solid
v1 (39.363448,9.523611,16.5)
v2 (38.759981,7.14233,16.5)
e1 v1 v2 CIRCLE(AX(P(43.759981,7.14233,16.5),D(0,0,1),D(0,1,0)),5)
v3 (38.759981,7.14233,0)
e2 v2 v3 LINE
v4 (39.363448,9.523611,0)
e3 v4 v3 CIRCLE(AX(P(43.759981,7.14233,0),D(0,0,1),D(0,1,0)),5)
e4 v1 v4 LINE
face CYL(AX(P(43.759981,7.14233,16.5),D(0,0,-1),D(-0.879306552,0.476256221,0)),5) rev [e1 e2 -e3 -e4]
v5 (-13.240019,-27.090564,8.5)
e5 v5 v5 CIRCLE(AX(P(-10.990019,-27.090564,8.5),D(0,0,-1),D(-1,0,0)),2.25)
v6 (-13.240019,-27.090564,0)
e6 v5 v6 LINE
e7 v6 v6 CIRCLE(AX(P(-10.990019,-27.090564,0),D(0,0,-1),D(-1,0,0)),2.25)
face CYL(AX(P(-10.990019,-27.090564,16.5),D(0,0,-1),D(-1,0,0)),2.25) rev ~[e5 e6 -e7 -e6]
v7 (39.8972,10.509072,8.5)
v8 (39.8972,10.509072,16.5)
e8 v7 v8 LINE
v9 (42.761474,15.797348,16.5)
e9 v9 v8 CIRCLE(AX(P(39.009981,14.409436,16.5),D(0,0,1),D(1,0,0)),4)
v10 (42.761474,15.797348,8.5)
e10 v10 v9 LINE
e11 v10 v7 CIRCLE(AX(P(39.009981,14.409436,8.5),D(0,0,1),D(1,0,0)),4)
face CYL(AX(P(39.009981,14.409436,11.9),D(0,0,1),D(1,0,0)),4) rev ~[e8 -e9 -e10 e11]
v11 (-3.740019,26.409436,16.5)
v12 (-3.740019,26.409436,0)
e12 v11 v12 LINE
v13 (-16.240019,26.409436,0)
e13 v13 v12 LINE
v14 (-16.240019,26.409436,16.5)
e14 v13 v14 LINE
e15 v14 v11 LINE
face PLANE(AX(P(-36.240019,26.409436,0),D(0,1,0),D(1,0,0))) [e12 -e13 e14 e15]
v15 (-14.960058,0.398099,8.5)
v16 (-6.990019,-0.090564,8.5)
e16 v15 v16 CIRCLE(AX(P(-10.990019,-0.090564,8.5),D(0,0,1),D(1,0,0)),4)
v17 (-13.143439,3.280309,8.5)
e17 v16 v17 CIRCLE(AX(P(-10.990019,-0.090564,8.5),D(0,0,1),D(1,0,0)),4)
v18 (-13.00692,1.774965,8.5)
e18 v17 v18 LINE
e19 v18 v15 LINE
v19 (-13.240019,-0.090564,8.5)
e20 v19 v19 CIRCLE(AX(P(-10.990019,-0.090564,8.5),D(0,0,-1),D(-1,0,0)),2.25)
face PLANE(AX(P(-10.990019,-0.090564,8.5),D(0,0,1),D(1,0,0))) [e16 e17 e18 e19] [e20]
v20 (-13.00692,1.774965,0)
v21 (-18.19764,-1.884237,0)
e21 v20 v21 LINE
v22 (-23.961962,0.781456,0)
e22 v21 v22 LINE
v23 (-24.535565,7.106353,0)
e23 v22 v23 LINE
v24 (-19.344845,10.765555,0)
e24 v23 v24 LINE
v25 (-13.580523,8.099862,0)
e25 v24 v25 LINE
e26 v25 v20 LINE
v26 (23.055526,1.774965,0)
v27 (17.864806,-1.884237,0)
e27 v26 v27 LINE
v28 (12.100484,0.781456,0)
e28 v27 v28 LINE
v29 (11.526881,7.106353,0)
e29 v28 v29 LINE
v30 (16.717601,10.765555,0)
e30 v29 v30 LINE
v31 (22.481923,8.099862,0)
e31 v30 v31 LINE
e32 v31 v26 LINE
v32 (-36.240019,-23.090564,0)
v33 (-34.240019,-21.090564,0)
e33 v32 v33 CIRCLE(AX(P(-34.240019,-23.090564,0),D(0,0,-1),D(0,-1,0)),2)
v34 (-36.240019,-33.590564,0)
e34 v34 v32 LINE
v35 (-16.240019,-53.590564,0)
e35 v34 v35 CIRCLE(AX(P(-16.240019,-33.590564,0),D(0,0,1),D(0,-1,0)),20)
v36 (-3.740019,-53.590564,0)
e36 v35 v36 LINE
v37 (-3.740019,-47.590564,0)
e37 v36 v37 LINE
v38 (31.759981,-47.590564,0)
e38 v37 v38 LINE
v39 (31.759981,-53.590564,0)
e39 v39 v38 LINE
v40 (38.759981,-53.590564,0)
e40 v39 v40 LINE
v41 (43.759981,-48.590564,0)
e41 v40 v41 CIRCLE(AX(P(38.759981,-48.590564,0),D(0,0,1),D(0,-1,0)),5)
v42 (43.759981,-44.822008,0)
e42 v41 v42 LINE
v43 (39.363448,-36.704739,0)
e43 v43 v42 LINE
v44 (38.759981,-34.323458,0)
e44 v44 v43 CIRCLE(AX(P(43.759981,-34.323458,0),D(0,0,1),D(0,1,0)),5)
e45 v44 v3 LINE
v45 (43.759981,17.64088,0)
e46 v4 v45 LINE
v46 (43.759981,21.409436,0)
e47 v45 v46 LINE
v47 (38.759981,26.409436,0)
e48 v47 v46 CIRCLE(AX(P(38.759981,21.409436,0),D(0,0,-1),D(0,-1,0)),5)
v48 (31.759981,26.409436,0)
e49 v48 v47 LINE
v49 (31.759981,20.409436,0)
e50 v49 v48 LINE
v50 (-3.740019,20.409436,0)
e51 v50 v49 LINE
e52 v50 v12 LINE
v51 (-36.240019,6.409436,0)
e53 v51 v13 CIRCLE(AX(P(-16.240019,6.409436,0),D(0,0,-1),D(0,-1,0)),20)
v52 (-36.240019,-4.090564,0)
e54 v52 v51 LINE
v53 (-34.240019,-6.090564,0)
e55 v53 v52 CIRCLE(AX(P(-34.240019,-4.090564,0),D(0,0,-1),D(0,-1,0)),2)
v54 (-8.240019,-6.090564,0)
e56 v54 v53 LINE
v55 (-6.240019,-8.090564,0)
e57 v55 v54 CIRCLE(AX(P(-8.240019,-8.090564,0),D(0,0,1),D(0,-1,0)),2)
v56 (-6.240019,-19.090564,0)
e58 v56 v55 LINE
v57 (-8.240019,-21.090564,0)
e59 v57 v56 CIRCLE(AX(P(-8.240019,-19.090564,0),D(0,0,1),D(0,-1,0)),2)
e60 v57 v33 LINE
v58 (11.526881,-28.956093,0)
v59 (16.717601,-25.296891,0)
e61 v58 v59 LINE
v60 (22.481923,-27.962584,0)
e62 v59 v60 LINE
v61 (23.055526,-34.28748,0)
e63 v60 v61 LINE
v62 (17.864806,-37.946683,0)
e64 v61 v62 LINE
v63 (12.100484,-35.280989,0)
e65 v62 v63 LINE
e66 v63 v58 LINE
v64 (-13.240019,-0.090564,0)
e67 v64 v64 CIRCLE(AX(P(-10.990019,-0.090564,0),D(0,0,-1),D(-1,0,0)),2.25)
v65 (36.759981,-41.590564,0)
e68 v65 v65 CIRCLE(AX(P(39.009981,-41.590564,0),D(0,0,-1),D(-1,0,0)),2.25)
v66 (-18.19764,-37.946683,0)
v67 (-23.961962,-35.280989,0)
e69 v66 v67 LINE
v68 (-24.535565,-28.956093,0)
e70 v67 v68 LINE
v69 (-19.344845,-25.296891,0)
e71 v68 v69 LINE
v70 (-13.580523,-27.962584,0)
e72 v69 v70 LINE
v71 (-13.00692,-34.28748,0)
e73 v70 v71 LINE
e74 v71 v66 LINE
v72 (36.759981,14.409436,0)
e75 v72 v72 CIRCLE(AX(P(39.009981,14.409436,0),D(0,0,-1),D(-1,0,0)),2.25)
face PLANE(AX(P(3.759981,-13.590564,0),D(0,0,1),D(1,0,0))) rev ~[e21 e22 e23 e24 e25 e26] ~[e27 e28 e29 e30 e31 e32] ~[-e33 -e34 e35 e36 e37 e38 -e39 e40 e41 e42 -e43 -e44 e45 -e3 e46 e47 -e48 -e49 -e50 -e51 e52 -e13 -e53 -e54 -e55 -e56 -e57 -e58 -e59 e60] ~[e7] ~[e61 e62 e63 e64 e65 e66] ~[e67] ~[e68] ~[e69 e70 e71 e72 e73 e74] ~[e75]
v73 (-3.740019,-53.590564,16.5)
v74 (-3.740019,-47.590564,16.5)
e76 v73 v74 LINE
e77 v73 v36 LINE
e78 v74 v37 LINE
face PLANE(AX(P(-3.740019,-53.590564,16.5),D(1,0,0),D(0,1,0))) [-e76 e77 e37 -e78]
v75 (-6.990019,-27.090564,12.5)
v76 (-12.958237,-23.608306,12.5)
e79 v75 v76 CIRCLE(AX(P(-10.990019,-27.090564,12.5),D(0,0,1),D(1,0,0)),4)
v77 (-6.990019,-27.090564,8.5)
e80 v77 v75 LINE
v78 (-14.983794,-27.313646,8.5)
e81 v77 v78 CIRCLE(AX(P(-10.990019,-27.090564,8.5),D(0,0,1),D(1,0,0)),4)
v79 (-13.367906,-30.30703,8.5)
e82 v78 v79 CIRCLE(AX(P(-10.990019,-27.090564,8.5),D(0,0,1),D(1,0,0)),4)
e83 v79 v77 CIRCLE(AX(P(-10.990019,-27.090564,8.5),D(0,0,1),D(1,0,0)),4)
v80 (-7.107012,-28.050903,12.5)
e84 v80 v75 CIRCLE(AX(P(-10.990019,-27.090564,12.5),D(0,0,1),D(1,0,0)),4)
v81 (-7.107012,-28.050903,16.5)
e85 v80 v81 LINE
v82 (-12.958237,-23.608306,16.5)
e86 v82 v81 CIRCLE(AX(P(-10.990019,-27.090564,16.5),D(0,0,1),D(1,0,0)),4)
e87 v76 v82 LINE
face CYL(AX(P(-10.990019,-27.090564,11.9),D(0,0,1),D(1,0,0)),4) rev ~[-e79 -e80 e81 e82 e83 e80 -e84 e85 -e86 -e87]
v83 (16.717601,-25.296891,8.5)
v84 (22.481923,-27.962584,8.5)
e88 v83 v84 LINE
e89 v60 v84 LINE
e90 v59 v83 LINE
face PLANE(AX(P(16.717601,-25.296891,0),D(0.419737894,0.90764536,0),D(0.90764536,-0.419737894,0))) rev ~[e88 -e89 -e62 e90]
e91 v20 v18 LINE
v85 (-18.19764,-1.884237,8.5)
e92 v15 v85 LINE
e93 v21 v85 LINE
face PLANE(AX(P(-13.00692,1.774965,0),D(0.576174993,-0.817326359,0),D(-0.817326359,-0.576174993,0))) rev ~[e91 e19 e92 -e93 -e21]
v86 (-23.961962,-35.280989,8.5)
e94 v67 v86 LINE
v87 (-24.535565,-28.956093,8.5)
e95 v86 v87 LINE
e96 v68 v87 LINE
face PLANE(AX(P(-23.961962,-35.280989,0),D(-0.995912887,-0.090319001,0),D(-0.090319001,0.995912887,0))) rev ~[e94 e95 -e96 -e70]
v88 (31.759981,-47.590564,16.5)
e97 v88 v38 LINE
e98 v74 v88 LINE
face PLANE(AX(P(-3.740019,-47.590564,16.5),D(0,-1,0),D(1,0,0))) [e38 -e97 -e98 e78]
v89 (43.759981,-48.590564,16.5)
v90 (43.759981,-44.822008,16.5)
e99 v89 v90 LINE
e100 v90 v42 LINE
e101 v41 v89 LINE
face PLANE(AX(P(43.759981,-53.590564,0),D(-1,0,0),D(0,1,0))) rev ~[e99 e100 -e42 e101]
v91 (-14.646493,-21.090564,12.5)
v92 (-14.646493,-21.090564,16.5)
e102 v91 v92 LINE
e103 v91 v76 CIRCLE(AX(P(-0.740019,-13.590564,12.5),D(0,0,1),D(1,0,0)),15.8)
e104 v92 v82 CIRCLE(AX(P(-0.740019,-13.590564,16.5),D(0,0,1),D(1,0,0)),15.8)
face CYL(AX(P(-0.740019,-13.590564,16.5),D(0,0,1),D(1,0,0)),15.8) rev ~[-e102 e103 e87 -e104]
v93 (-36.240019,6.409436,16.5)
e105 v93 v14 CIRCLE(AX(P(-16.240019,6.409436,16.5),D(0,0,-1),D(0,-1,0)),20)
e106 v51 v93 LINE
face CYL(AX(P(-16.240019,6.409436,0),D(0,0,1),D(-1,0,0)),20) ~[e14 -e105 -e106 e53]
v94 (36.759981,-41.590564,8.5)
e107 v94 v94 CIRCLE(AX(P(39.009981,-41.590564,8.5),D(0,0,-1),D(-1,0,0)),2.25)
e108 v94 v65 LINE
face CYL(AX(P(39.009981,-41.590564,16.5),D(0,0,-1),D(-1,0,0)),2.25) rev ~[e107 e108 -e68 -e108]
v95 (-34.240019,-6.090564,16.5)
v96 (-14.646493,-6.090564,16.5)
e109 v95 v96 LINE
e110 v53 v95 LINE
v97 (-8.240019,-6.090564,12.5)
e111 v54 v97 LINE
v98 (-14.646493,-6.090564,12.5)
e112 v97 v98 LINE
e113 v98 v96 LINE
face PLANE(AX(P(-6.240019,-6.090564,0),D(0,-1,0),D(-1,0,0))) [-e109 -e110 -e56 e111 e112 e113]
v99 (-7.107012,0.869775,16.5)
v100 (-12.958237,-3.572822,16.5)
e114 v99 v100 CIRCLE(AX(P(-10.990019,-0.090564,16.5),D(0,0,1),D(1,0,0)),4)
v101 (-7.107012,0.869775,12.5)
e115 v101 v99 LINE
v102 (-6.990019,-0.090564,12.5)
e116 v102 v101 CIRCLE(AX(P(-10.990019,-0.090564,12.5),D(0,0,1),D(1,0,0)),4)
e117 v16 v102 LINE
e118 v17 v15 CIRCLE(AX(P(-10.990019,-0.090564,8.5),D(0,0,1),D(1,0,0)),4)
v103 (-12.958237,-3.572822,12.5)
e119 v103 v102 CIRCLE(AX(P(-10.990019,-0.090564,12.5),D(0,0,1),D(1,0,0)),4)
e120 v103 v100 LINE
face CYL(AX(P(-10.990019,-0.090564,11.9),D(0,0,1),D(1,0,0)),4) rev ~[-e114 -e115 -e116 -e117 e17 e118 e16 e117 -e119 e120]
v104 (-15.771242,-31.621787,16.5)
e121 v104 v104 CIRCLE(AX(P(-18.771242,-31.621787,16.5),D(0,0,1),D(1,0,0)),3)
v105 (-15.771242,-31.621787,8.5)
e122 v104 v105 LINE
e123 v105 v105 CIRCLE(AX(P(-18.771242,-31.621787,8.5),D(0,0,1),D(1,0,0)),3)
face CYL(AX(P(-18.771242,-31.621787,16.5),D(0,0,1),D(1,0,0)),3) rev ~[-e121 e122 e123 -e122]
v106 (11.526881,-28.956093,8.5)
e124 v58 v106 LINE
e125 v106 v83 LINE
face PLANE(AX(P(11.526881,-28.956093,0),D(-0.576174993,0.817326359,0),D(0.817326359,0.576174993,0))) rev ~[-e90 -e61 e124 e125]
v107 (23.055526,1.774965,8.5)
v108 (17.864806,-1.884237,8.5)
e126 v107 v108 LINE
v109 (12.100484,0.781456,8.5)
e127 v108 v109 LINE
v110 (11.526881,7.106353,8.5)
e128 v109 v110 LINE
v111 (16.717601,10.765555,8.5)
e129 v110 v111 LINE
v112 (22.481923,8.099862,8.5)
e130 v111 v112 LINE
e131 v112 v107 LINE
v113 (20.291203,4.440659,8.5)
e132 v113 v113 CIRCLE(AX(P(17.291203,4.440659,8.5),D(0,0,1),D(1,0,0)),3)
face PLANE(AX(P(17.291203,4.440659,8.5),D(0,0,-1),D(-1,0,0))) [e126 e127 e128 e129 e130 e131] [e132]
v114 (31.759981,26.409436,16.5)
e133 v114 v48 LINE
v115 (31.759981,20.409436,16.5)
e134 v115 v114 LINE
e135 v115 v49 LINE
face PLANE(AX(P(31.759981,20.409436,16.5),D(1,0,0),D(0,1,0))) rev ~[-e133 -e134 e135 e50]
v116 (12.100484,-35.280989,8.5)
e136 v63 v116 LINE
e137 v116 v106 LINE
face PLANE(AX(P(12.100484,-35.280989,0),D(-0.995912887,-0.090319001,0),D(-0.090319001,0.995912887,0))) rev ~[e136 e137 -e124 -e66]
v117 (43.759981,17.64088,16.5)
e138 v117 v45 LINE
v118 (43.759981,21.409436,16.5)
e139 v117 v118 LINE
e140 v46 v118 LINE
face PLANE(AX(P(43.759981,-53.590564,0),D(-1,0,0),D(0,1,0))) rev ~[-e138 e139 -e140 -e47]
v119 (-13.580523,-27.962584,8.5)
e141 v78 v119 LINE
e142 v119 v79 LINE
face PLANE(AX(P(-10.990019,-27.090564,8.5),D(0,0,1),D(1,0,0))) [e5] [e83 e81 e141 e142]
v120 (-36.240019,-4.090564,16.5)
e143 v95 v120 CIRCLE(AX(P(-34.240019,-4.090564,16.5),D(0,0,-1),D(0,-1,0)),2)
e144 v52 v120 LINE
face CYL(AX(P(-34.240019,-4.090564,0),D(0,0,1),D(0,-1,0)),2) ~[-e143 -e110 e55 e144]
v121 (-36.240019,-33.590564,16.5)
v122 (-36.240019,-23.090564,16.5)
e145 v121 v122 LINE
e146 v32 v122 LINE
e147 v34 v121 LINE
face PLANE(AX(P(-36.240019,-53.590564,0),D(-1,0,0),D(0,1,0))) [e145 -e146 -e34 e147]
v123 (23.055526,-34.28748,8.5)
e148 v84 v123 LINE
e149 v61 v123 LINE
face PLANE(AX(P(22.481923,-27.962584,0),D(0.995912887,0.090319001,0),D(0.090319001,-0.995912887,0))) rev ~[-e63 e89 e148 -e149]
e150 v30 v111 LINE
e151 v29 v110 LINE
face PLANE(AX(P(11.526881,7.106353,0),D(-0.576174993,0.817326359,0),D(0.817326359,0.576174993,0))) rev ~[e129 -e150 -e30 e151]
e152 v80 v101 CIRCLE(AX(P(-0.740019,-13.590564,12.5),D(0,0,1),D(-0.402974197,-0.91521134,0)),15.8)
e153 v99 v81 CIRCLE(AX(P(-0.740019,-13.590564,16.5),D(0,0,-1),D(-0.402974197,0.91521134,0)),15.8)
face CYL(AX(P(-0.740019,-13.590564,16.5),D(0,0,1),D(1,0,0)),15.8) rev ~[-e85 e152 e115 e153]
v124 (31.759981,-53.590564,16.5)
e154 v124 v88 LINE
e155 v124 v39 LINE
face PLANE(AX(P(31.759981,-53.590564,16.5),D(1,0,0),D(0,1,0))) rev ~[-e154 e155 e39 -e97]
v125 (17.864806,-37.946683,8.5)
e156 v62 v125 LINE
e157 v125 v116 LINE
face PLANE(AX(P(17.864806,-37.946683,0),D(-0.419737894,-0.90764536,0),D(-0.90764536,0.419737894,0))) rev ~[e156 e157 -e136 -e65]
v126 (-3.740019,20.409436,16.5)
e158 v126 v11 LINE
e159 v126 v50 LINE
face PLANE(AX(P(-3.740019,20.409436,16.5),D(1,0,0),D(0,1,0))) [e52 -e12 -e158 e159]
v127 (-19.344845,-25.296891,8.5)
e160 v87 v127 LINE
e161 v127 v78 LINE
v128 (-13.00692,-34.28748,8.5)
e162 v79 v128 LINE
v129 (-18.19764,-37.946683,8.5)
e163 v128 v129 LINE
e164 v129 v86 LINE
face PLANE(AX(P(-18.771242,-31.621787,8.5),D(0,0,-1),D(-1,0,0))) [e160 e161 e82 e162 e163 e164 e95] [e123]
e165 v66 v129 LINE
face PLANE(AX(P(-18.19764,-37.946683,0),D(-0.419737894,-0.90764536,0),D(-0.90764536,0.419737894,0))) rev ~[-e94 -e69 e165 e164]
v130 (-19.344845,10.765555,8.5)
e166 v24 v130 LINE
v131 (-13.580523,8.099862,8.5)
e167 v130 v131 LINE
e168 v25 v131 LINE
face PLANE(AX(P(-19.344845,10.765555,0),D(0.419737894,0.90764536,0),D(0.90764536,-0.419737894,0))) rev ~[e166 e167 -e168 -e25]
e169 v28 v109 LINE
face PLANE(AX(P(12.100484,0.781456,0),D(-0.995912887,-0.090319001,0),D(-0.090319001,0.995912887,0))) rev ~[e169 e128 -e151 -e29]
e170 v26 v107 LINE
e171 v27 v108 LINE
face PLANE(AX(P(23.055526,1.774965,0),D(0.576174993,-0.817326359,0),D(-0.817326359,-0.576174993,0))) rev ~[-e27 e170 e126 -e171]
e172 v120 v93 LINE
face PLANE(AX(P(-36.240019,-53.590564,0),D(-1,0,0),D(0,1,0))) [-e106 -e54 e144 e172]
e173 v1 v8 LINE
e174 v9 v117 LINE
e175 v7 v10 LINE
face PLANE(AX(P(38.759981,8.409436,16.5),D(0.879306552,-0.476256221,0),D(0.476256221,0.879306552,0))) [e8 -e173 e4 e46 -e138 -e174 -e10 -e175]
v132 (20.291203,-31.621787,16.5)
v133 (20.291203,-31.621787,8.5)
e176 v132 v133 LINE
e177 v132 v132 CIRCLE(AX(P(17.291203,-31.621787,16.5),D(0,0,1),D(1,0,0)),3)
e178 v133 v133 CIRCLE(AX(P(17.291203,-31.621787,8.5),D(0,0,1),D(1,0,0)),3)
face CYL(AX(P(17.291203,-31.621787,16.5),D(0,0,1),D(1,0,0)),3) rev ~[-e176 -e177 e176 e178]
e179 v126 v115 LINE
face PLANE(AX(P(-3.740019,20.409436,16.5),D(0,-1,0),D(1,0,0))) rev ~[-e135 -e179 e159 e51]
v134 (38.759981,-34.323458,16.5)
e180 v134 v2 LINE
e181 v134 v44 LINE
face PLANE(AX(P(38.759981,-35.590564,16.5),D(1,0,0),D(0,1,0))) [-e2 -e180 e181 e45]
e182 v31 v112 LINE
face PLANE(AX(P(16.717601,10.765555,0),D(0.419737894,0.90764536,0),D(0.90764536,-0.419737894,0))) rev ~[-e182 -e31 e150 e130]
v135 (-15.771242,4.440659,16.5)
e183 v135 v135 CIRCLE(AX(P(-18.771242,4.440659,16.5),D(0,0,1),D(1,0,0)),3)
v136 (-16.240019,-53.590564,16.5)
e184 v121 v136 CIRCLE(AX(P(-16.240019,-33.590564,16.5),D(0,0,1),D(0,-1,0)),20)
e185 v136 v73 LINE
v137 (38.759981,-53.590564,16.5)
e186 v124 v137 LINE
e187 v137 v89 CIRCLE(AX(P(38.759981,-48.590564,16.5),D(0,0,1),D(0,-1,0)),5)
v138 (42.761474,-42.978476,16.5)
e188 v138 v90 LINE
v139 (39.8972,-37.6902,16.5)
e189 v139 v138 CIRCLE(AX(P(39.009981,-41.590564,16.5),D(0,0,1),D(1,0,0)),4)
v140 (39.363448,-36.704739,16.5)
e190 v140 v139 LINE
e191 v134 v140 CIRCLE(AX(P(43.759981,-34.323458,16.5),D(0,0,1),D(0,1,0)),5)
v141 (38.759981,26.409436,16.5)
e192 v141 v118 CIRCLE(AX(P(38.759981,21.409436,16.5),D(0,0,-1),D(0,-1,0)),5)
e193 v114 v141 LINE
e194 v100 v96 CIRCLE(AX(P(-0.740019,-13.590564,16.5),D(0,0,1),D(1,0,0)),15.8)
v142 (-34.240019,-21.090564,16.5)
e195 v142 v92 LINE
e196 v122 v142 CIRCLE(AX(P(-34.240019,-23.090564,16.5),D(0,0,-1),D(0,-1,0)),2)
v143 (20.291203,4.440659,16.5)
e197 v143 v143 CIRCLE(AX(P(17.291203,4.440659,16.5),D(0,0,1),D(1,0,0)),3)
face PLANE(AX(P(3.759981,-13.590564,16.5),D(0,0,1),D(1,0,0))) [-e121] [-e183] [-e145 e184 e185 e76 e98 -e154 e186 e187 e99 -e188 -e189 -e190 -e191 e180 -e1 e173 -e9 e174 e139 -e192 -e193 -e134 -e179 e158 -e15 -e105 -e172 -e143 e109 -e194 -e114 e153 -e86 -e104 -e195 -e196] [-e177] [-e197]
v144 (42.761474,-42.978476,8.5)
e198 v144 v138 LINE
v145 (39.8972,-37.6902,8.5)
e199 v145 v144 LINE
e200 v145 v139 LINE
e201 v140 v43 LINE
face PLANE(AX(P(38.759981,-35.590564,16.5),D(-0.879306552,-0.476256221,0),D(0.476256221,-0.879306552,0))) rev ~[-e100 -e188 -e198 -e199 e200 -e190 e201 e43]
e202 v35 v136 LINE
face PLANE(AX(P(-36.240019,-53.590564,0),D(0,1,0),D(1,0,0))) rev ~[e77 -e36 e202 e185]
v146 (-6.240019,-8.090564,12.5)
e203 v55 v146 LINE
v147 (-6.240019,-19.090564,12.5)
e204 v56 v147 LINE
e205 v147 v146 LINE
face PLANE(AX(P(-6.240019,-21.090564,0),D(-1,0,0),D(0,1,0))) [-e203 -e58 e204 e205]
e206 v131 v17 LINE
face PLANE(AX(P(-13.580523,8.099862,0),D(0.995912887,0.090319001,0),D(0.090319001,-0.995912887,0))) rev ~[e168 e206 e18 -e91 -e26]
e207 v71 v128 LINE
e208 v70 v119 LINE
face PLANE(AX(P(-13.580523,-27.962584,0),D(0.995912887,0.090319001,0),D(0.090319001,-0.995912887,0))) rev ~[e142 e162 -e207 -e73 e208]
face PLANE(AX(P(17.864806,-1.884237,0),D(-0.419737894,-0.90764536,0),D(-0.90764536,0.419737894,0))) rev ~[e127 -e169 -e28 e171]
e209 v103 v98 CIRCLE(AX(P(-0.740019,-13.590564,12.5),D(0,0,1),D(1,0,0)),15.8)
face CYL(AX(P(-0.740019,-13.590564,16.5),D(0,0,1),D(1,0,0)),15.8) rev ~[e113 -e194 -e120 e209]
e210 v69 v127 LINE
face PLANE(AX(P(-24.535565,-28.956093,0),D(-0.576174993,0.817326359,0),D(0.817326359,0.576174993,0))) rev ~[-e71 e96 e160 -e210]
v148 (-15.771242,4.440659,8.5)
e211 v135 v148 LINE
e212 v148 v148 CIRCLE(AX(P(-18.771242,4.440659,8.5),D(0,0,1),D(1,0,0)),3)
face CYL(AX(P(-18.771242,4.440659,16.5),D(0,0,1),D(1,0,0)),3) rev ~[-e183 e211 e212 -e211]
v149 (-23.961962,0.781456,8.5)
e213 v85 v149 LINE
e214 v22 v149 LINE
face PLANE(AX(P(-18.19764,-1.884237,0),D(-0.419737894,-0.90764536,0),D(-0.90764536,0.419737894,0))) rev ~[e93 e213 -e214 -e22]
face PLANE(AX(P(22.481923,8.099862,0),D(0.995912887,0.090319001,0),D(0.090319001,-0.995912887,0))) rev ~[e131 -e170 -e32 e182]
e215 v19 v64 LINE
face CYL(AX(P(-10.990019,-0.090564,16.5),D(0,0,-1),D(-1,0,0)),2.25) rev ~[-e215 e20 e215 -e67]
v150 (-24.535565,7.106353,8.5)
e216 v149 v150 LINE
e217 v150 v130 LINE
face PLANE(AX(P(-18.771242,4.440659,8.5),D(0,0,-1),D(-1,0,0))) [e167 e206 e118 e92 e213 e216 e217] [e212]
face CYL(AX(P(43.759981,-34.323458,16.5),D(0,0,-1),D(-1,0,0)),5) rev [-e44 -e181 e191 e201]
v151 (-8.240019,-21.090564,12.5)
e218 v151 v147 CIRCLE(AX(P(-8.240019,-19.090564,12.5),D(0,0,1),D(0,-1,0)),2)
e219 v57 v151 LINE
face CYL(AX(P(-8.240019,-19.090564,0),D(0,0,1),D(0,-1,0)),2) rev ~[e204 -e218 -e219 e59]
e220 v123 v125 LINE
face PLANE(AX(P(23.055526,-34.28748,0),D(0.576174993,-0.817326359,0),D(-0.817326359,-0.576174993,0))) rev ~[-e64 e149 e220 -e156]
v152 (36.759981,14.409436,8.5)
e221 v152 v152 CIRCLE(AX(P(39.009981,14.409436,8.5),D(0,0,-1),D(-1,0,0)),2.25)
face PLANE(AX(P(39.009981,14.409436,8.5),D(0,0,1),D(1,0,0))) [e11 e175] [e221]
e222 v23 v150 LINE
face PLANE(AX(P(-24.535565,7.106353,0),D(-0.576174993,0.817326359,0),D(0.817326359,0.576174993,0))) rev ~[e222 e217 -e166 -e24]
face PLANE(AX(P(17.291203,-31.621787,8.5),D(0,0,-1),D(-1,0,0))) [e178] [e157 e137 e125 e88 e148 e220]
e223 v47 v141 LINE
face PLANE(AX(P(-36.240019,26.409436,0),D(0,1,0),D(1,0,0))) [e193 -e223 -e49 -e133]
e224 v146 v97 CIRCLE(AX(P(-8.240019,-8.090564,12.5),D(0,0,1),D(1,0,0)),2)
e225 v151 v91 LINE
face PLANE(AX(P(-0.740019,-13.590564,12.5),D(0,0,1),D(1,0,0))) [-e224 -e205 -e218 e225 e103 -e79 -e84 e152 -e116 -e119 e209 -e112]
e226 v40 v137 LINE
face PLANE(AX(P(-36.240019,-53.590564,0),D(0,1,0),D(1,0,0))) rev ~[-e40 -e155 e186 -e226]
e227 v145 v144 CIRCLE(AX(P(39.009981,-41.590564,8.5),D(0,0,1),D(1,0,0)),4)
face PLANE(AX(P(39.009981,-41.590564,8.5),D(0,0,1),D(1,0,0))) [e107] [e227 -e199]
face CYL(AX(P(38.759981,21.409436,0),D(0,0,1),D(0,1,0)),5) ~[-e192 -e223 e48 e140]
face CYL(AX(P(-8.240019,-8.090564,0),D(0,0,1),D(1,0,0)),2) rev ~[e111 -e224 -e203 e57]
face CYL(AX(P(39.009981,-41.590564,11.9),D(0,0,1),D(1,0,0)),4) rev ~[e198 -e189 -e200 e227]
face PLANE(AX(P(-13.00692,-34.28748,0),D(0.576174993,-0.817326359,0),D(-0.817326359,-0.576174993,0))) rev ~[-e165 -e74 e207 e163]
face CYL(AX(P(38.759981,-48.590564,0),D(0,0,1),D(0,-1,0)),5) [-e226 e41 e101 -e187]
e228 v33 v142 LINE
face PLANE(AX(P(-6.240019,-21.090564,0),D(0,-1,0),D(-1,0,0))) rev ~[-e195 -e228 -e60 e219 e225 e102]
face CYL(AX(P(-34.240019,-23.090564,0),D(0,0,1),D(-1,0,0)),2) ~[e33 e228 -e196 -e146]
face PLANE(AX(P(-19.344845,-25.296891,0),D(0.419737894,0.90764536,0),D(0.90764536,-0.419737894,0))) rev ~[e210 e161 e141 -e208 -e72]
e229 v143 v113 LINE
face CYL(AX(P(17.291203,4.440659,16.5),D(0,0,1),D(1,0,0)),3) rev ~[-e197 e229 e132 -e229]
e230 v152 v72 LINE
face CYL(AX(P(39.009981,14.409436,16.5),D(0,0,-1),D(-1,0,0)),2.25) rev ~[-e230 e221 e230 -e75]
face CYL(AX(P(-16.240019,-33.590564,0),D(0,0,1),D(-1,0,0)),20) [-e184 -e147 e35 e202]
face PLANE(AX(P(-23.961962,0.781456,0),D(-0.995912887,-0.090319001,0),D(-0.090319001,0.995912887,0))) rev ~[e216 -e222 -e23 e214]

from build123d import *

# Parameters (mm, degrees)
SKETCH_1_W                = 80
SKETCH_1_H                = 80
EXTRUDE_1_DEPTH           = 16.5
FILLET_1_R                = 20
FILLET_2_R                = 5
SKETCH_2_W                = 30
SKETCH_2_H                = 15
CUT_EXTRUDE_1_DEPTH       = 72.127592652
FILLET_3_R                = 2
SKETCH_3_W                = 35.5
SKETCH_3_H                = 6
CUT_EXTRUDE_2_DEPTH       = 72.127592652
SKETCH_4_W                = 35.5
SKETCH_4_H                = 6
CUT_EXTRUDE_3_DEPTH       = 72.127592652
SKETCH_5_W                = 5
SKETCH_5_H                = 44
CUT_EXTRUDE_4_DEPTH       = 72.127592652
HOLE_WIZARD_3_D           = 4.5
HOLE_WIZARD_3_CBORE_D     = 8
HOLE_WIZARD_3_CBORE_DEPTH = 4.6
SKETCH_10_R               = 15.8
CUT_EXTRUDE_5_DEPTH       = 4
SKETCH_18_R               = 4
CUT_EXTRUDE_7_DEPTH       = 8
CUT_EXTRUDE_9_DEPTH       = 72.127592652
FILLET_4_R                = 5
SKETCH_11_R               = 3
CUT_EXTRUDE_10_DEPTH      = 72.127592652
CUT_EXTRUDE_11_DEPTH      = 8.5


with BuildPart() as part:
    # 草图1 → 凸台-拉伸1 (new body)
    with BuildSketch(Plane.XY):
        with Locations((3.759980536, -13.590563907)):
            Rectangle(SKETCH_1_W, SKETCH_1_H)
    extrude(amount=EXTRUDE_1_DEPTH)

    # 圆角1
    fillet_1_edges = [part.edges().sort_by_distance(p)[0] for p in [
        (-36.240019464, 26.409436093, 8.25),
        (-36.240019464, -53.590563907, 8.25),
    ]]
    fillet(fillet_1_edges, radius=FILLET_1_R)

    # 圆角2
    fillet_2_edges = [part.edges().sort_by_distance(p)[0] for p in [
        (43.759980536, 26.409436093, 8.25),
        (43.759980536, -53.590563907, 8.25),
    ]]
    fillet(fillet_2_edges, radius=FILLET_2_R)

    # 草图2 → 切除-拉伸1 (cut, through all)
    with BuildSketch(Plane(origin=(0, 0, 0), x_dir=(-1, 0, 0), z_dir=(0, 0, -1))):
        with Locations((21.240019464, -13.590563907)):
            Rectangle(SKETCH_2_W, SKETCH_2_H)
    extrude(amount=-CUT_EXTRUDE_1_DEPTH, mode=Mode.SUBTRACT)

    # 圆角3
    fillet_3_edges = [part.edges().sort_by_distance(p)[0] for p in [
        (-36.240019464, -6.090563907, 8.25),
        (-36.240019464, -21.090563907, 8.25),
        (-6.240019464, -21.090563907, 8.25),
        (-6.240019464, -6.090563907, 8.25),
    ]]
    fillet(fillet_3_edges, radius=FILLET_3_R)

    # 草图3 → 切除-拉伸2 (cut, through all)
    with BuildSketch(Plane.XY.offset(16.5)):
        with Locations((14.009980536, 23.409436093)):
            Rectangle(SKETCH_3_W, SKETCH_3_H)
    extrude(amount=-CUT_EXTRUDE_2_DEPTH, mode=Mode.SUBTRACT)

    # 草图4 → 切除-拉伸3 (cut, through all)
    with BuildSketch(Plane.XY.offset(16.5)):
        with Locations((14.009980536, -50.590563907)):
            Rectangle(SKETCH_4_W, SKETCH_4_H)
    extrude(amount=-CUT_EXTRUDE_3_DEPTH, mode=Mode.SUBTRACT)

    # 草图5 → 切除-拉伸4 (cut, through all)
    with BuildSketch(Plane.XY.offset(16.5)):
        with Locations((41.259980536, -13.590563907)):
            Rectangle(SKETCH_5_W, SKETCH_5_H)
    extrude(amount=-CUT_EXTRUDE_4_DEPTH, mode=Mode.SUBTRACT)

    # 打孔尺寸(%根据)内六角圆柱头螺钉的类型3 (through all)
    with Locations(Plane.XY.offset(16.5)):
        with Locations((-10.990019464, -0.090563907), (-10.990019464, -27.090563907), (39.009980536, 14.409436093), (39.009980536, -41.590563907)):
            CounterBoreHole(HOLE_WIZARD_3_D / 2, HOLE_WIZARD_3_CBORE_D / 2, HOLE_WIZARD_3_CBORE_DEPTH)

    # 草图10 → 切除-拉伸5 (cut)
    with BuildSketch(Plane.XY.offset(16.5)):
        with Locations((-0.740019464, -13.590563907)):
            Circle(SKETCH_10_R)
    extrude(amount=-CUT_EXTRUDE_5_DEPTH, mode=Mode.SUBTRACT)

    # 草图18 → 切除-拉伸7 (cut)
    with BuildSketch(Plane.XY.offset(16.5)):
        with Locations((-10.990019464, -0.090563907)):
            Circle(SKETCH_18_R)
        with Locations((-10.990019464, -27.090563907)):
            Circle(SKETCH_18_R)
        with Locations((39.009980536, -41.590563907)):
            Circle(SKETCH_18_R)
        with Locations((39.009980536, 14.409436093)):
            Circle(SKETCH_18_R)
    extrude(amount=-CUT_EXTRUDE_7_DEPTH, mode=Mode.SUBTRACT)

    # 草图21 → 切除-拉伸9 (cut, through all)
    with BuildSketch(Plane.XY.offset(16.5)):
        Polygon((38.759980536, 8.409436093), (43.759980536, 17.640880354), (43.759980536, 8.409436093), align=None)
        Polygon((43.759980536, -35.590563907), (38.759980536, -35.590563907), (43.759980536, -44.822008169), align=None)
    extrude(amount=-CUT_EXTRUDE_9_DEPTH, mode=Mode.SUBTRACT)

    # 圆角4
    fillet_4_edges = [part.edges().sort_by_distance(p)[0] for p in [
        (38.759980536, -35.590563907, 8.25),
        (38.759980536, 8.409436093, 8.25),
    ]]
    fillet(fillet_4_edges, radius=FILLET_4_R)

    # 草图11 → 切除-拉伸10 (cut, through all)
    with BuildSketch(Plane.XY.offset(16.5)):
        with Locations((-18.771242384, 4.440659013)):
            Circle(SKETCH_11_R)
        with Locations((17.291203456, 4.440659013)):
            Circle(SKETCH_11_R)
        with Locations((17.291203456, -31.621786828)):
            Circle(SKETCH_11_R)
        with Locations((-18.771242384, -31.621786828)):
            Circle(SKETCH_11_R)
    extrude(amount=-CUT_EXTRUDE_10_DEPTH, mode=Mode.SUBTRACT)

    # 草图22 → 切除-拉伸11 (cut)
    with BuildSketch(Plane(origin=(0, 0, 0), x_dir=(-1, 0, 0), z_dir=(0, 0, -1))):
        Polygon((-16.717600761, 10.765555319), (-22.481922986, 8.099861672), (-23.055525681, 1.774965366), (-17.864806152, -1.884237293), (-12.100483927, 0.781456354), (-11.526881231, 7.10635266), align=None)
        Polygon((-11.526881231, -28.956093181), (-16.717600761, -25.296890522), (-22.481922986, -27.962584169), (-23.055525681, -34.287480475), (-17.864806152, -37.946683134), (-12.100483927, -35.280989487), align=None)
        Polygon((24.535564609, 7.10635266), (19.34484508, 10.765555319), (13.580522855, 8.099861672), (13.006920159, 1.774965366), (18.197639689, -1.884237293), (23.961961914, 0.781456354), align=None)
        Polygon((18.197639689, -37.946683134), (23.961961914, -35.280989487), (24.535564609, -28.956093181), (19.34484508, -25.296890522), (13.580522855, -27.962584169), (13.006920159, -34.287480475), align=None)
    extrude(amount=-CUT_EXTRUDE_11_DEPTH, mode=Mode.SUBTRACT)


solid = part.part
